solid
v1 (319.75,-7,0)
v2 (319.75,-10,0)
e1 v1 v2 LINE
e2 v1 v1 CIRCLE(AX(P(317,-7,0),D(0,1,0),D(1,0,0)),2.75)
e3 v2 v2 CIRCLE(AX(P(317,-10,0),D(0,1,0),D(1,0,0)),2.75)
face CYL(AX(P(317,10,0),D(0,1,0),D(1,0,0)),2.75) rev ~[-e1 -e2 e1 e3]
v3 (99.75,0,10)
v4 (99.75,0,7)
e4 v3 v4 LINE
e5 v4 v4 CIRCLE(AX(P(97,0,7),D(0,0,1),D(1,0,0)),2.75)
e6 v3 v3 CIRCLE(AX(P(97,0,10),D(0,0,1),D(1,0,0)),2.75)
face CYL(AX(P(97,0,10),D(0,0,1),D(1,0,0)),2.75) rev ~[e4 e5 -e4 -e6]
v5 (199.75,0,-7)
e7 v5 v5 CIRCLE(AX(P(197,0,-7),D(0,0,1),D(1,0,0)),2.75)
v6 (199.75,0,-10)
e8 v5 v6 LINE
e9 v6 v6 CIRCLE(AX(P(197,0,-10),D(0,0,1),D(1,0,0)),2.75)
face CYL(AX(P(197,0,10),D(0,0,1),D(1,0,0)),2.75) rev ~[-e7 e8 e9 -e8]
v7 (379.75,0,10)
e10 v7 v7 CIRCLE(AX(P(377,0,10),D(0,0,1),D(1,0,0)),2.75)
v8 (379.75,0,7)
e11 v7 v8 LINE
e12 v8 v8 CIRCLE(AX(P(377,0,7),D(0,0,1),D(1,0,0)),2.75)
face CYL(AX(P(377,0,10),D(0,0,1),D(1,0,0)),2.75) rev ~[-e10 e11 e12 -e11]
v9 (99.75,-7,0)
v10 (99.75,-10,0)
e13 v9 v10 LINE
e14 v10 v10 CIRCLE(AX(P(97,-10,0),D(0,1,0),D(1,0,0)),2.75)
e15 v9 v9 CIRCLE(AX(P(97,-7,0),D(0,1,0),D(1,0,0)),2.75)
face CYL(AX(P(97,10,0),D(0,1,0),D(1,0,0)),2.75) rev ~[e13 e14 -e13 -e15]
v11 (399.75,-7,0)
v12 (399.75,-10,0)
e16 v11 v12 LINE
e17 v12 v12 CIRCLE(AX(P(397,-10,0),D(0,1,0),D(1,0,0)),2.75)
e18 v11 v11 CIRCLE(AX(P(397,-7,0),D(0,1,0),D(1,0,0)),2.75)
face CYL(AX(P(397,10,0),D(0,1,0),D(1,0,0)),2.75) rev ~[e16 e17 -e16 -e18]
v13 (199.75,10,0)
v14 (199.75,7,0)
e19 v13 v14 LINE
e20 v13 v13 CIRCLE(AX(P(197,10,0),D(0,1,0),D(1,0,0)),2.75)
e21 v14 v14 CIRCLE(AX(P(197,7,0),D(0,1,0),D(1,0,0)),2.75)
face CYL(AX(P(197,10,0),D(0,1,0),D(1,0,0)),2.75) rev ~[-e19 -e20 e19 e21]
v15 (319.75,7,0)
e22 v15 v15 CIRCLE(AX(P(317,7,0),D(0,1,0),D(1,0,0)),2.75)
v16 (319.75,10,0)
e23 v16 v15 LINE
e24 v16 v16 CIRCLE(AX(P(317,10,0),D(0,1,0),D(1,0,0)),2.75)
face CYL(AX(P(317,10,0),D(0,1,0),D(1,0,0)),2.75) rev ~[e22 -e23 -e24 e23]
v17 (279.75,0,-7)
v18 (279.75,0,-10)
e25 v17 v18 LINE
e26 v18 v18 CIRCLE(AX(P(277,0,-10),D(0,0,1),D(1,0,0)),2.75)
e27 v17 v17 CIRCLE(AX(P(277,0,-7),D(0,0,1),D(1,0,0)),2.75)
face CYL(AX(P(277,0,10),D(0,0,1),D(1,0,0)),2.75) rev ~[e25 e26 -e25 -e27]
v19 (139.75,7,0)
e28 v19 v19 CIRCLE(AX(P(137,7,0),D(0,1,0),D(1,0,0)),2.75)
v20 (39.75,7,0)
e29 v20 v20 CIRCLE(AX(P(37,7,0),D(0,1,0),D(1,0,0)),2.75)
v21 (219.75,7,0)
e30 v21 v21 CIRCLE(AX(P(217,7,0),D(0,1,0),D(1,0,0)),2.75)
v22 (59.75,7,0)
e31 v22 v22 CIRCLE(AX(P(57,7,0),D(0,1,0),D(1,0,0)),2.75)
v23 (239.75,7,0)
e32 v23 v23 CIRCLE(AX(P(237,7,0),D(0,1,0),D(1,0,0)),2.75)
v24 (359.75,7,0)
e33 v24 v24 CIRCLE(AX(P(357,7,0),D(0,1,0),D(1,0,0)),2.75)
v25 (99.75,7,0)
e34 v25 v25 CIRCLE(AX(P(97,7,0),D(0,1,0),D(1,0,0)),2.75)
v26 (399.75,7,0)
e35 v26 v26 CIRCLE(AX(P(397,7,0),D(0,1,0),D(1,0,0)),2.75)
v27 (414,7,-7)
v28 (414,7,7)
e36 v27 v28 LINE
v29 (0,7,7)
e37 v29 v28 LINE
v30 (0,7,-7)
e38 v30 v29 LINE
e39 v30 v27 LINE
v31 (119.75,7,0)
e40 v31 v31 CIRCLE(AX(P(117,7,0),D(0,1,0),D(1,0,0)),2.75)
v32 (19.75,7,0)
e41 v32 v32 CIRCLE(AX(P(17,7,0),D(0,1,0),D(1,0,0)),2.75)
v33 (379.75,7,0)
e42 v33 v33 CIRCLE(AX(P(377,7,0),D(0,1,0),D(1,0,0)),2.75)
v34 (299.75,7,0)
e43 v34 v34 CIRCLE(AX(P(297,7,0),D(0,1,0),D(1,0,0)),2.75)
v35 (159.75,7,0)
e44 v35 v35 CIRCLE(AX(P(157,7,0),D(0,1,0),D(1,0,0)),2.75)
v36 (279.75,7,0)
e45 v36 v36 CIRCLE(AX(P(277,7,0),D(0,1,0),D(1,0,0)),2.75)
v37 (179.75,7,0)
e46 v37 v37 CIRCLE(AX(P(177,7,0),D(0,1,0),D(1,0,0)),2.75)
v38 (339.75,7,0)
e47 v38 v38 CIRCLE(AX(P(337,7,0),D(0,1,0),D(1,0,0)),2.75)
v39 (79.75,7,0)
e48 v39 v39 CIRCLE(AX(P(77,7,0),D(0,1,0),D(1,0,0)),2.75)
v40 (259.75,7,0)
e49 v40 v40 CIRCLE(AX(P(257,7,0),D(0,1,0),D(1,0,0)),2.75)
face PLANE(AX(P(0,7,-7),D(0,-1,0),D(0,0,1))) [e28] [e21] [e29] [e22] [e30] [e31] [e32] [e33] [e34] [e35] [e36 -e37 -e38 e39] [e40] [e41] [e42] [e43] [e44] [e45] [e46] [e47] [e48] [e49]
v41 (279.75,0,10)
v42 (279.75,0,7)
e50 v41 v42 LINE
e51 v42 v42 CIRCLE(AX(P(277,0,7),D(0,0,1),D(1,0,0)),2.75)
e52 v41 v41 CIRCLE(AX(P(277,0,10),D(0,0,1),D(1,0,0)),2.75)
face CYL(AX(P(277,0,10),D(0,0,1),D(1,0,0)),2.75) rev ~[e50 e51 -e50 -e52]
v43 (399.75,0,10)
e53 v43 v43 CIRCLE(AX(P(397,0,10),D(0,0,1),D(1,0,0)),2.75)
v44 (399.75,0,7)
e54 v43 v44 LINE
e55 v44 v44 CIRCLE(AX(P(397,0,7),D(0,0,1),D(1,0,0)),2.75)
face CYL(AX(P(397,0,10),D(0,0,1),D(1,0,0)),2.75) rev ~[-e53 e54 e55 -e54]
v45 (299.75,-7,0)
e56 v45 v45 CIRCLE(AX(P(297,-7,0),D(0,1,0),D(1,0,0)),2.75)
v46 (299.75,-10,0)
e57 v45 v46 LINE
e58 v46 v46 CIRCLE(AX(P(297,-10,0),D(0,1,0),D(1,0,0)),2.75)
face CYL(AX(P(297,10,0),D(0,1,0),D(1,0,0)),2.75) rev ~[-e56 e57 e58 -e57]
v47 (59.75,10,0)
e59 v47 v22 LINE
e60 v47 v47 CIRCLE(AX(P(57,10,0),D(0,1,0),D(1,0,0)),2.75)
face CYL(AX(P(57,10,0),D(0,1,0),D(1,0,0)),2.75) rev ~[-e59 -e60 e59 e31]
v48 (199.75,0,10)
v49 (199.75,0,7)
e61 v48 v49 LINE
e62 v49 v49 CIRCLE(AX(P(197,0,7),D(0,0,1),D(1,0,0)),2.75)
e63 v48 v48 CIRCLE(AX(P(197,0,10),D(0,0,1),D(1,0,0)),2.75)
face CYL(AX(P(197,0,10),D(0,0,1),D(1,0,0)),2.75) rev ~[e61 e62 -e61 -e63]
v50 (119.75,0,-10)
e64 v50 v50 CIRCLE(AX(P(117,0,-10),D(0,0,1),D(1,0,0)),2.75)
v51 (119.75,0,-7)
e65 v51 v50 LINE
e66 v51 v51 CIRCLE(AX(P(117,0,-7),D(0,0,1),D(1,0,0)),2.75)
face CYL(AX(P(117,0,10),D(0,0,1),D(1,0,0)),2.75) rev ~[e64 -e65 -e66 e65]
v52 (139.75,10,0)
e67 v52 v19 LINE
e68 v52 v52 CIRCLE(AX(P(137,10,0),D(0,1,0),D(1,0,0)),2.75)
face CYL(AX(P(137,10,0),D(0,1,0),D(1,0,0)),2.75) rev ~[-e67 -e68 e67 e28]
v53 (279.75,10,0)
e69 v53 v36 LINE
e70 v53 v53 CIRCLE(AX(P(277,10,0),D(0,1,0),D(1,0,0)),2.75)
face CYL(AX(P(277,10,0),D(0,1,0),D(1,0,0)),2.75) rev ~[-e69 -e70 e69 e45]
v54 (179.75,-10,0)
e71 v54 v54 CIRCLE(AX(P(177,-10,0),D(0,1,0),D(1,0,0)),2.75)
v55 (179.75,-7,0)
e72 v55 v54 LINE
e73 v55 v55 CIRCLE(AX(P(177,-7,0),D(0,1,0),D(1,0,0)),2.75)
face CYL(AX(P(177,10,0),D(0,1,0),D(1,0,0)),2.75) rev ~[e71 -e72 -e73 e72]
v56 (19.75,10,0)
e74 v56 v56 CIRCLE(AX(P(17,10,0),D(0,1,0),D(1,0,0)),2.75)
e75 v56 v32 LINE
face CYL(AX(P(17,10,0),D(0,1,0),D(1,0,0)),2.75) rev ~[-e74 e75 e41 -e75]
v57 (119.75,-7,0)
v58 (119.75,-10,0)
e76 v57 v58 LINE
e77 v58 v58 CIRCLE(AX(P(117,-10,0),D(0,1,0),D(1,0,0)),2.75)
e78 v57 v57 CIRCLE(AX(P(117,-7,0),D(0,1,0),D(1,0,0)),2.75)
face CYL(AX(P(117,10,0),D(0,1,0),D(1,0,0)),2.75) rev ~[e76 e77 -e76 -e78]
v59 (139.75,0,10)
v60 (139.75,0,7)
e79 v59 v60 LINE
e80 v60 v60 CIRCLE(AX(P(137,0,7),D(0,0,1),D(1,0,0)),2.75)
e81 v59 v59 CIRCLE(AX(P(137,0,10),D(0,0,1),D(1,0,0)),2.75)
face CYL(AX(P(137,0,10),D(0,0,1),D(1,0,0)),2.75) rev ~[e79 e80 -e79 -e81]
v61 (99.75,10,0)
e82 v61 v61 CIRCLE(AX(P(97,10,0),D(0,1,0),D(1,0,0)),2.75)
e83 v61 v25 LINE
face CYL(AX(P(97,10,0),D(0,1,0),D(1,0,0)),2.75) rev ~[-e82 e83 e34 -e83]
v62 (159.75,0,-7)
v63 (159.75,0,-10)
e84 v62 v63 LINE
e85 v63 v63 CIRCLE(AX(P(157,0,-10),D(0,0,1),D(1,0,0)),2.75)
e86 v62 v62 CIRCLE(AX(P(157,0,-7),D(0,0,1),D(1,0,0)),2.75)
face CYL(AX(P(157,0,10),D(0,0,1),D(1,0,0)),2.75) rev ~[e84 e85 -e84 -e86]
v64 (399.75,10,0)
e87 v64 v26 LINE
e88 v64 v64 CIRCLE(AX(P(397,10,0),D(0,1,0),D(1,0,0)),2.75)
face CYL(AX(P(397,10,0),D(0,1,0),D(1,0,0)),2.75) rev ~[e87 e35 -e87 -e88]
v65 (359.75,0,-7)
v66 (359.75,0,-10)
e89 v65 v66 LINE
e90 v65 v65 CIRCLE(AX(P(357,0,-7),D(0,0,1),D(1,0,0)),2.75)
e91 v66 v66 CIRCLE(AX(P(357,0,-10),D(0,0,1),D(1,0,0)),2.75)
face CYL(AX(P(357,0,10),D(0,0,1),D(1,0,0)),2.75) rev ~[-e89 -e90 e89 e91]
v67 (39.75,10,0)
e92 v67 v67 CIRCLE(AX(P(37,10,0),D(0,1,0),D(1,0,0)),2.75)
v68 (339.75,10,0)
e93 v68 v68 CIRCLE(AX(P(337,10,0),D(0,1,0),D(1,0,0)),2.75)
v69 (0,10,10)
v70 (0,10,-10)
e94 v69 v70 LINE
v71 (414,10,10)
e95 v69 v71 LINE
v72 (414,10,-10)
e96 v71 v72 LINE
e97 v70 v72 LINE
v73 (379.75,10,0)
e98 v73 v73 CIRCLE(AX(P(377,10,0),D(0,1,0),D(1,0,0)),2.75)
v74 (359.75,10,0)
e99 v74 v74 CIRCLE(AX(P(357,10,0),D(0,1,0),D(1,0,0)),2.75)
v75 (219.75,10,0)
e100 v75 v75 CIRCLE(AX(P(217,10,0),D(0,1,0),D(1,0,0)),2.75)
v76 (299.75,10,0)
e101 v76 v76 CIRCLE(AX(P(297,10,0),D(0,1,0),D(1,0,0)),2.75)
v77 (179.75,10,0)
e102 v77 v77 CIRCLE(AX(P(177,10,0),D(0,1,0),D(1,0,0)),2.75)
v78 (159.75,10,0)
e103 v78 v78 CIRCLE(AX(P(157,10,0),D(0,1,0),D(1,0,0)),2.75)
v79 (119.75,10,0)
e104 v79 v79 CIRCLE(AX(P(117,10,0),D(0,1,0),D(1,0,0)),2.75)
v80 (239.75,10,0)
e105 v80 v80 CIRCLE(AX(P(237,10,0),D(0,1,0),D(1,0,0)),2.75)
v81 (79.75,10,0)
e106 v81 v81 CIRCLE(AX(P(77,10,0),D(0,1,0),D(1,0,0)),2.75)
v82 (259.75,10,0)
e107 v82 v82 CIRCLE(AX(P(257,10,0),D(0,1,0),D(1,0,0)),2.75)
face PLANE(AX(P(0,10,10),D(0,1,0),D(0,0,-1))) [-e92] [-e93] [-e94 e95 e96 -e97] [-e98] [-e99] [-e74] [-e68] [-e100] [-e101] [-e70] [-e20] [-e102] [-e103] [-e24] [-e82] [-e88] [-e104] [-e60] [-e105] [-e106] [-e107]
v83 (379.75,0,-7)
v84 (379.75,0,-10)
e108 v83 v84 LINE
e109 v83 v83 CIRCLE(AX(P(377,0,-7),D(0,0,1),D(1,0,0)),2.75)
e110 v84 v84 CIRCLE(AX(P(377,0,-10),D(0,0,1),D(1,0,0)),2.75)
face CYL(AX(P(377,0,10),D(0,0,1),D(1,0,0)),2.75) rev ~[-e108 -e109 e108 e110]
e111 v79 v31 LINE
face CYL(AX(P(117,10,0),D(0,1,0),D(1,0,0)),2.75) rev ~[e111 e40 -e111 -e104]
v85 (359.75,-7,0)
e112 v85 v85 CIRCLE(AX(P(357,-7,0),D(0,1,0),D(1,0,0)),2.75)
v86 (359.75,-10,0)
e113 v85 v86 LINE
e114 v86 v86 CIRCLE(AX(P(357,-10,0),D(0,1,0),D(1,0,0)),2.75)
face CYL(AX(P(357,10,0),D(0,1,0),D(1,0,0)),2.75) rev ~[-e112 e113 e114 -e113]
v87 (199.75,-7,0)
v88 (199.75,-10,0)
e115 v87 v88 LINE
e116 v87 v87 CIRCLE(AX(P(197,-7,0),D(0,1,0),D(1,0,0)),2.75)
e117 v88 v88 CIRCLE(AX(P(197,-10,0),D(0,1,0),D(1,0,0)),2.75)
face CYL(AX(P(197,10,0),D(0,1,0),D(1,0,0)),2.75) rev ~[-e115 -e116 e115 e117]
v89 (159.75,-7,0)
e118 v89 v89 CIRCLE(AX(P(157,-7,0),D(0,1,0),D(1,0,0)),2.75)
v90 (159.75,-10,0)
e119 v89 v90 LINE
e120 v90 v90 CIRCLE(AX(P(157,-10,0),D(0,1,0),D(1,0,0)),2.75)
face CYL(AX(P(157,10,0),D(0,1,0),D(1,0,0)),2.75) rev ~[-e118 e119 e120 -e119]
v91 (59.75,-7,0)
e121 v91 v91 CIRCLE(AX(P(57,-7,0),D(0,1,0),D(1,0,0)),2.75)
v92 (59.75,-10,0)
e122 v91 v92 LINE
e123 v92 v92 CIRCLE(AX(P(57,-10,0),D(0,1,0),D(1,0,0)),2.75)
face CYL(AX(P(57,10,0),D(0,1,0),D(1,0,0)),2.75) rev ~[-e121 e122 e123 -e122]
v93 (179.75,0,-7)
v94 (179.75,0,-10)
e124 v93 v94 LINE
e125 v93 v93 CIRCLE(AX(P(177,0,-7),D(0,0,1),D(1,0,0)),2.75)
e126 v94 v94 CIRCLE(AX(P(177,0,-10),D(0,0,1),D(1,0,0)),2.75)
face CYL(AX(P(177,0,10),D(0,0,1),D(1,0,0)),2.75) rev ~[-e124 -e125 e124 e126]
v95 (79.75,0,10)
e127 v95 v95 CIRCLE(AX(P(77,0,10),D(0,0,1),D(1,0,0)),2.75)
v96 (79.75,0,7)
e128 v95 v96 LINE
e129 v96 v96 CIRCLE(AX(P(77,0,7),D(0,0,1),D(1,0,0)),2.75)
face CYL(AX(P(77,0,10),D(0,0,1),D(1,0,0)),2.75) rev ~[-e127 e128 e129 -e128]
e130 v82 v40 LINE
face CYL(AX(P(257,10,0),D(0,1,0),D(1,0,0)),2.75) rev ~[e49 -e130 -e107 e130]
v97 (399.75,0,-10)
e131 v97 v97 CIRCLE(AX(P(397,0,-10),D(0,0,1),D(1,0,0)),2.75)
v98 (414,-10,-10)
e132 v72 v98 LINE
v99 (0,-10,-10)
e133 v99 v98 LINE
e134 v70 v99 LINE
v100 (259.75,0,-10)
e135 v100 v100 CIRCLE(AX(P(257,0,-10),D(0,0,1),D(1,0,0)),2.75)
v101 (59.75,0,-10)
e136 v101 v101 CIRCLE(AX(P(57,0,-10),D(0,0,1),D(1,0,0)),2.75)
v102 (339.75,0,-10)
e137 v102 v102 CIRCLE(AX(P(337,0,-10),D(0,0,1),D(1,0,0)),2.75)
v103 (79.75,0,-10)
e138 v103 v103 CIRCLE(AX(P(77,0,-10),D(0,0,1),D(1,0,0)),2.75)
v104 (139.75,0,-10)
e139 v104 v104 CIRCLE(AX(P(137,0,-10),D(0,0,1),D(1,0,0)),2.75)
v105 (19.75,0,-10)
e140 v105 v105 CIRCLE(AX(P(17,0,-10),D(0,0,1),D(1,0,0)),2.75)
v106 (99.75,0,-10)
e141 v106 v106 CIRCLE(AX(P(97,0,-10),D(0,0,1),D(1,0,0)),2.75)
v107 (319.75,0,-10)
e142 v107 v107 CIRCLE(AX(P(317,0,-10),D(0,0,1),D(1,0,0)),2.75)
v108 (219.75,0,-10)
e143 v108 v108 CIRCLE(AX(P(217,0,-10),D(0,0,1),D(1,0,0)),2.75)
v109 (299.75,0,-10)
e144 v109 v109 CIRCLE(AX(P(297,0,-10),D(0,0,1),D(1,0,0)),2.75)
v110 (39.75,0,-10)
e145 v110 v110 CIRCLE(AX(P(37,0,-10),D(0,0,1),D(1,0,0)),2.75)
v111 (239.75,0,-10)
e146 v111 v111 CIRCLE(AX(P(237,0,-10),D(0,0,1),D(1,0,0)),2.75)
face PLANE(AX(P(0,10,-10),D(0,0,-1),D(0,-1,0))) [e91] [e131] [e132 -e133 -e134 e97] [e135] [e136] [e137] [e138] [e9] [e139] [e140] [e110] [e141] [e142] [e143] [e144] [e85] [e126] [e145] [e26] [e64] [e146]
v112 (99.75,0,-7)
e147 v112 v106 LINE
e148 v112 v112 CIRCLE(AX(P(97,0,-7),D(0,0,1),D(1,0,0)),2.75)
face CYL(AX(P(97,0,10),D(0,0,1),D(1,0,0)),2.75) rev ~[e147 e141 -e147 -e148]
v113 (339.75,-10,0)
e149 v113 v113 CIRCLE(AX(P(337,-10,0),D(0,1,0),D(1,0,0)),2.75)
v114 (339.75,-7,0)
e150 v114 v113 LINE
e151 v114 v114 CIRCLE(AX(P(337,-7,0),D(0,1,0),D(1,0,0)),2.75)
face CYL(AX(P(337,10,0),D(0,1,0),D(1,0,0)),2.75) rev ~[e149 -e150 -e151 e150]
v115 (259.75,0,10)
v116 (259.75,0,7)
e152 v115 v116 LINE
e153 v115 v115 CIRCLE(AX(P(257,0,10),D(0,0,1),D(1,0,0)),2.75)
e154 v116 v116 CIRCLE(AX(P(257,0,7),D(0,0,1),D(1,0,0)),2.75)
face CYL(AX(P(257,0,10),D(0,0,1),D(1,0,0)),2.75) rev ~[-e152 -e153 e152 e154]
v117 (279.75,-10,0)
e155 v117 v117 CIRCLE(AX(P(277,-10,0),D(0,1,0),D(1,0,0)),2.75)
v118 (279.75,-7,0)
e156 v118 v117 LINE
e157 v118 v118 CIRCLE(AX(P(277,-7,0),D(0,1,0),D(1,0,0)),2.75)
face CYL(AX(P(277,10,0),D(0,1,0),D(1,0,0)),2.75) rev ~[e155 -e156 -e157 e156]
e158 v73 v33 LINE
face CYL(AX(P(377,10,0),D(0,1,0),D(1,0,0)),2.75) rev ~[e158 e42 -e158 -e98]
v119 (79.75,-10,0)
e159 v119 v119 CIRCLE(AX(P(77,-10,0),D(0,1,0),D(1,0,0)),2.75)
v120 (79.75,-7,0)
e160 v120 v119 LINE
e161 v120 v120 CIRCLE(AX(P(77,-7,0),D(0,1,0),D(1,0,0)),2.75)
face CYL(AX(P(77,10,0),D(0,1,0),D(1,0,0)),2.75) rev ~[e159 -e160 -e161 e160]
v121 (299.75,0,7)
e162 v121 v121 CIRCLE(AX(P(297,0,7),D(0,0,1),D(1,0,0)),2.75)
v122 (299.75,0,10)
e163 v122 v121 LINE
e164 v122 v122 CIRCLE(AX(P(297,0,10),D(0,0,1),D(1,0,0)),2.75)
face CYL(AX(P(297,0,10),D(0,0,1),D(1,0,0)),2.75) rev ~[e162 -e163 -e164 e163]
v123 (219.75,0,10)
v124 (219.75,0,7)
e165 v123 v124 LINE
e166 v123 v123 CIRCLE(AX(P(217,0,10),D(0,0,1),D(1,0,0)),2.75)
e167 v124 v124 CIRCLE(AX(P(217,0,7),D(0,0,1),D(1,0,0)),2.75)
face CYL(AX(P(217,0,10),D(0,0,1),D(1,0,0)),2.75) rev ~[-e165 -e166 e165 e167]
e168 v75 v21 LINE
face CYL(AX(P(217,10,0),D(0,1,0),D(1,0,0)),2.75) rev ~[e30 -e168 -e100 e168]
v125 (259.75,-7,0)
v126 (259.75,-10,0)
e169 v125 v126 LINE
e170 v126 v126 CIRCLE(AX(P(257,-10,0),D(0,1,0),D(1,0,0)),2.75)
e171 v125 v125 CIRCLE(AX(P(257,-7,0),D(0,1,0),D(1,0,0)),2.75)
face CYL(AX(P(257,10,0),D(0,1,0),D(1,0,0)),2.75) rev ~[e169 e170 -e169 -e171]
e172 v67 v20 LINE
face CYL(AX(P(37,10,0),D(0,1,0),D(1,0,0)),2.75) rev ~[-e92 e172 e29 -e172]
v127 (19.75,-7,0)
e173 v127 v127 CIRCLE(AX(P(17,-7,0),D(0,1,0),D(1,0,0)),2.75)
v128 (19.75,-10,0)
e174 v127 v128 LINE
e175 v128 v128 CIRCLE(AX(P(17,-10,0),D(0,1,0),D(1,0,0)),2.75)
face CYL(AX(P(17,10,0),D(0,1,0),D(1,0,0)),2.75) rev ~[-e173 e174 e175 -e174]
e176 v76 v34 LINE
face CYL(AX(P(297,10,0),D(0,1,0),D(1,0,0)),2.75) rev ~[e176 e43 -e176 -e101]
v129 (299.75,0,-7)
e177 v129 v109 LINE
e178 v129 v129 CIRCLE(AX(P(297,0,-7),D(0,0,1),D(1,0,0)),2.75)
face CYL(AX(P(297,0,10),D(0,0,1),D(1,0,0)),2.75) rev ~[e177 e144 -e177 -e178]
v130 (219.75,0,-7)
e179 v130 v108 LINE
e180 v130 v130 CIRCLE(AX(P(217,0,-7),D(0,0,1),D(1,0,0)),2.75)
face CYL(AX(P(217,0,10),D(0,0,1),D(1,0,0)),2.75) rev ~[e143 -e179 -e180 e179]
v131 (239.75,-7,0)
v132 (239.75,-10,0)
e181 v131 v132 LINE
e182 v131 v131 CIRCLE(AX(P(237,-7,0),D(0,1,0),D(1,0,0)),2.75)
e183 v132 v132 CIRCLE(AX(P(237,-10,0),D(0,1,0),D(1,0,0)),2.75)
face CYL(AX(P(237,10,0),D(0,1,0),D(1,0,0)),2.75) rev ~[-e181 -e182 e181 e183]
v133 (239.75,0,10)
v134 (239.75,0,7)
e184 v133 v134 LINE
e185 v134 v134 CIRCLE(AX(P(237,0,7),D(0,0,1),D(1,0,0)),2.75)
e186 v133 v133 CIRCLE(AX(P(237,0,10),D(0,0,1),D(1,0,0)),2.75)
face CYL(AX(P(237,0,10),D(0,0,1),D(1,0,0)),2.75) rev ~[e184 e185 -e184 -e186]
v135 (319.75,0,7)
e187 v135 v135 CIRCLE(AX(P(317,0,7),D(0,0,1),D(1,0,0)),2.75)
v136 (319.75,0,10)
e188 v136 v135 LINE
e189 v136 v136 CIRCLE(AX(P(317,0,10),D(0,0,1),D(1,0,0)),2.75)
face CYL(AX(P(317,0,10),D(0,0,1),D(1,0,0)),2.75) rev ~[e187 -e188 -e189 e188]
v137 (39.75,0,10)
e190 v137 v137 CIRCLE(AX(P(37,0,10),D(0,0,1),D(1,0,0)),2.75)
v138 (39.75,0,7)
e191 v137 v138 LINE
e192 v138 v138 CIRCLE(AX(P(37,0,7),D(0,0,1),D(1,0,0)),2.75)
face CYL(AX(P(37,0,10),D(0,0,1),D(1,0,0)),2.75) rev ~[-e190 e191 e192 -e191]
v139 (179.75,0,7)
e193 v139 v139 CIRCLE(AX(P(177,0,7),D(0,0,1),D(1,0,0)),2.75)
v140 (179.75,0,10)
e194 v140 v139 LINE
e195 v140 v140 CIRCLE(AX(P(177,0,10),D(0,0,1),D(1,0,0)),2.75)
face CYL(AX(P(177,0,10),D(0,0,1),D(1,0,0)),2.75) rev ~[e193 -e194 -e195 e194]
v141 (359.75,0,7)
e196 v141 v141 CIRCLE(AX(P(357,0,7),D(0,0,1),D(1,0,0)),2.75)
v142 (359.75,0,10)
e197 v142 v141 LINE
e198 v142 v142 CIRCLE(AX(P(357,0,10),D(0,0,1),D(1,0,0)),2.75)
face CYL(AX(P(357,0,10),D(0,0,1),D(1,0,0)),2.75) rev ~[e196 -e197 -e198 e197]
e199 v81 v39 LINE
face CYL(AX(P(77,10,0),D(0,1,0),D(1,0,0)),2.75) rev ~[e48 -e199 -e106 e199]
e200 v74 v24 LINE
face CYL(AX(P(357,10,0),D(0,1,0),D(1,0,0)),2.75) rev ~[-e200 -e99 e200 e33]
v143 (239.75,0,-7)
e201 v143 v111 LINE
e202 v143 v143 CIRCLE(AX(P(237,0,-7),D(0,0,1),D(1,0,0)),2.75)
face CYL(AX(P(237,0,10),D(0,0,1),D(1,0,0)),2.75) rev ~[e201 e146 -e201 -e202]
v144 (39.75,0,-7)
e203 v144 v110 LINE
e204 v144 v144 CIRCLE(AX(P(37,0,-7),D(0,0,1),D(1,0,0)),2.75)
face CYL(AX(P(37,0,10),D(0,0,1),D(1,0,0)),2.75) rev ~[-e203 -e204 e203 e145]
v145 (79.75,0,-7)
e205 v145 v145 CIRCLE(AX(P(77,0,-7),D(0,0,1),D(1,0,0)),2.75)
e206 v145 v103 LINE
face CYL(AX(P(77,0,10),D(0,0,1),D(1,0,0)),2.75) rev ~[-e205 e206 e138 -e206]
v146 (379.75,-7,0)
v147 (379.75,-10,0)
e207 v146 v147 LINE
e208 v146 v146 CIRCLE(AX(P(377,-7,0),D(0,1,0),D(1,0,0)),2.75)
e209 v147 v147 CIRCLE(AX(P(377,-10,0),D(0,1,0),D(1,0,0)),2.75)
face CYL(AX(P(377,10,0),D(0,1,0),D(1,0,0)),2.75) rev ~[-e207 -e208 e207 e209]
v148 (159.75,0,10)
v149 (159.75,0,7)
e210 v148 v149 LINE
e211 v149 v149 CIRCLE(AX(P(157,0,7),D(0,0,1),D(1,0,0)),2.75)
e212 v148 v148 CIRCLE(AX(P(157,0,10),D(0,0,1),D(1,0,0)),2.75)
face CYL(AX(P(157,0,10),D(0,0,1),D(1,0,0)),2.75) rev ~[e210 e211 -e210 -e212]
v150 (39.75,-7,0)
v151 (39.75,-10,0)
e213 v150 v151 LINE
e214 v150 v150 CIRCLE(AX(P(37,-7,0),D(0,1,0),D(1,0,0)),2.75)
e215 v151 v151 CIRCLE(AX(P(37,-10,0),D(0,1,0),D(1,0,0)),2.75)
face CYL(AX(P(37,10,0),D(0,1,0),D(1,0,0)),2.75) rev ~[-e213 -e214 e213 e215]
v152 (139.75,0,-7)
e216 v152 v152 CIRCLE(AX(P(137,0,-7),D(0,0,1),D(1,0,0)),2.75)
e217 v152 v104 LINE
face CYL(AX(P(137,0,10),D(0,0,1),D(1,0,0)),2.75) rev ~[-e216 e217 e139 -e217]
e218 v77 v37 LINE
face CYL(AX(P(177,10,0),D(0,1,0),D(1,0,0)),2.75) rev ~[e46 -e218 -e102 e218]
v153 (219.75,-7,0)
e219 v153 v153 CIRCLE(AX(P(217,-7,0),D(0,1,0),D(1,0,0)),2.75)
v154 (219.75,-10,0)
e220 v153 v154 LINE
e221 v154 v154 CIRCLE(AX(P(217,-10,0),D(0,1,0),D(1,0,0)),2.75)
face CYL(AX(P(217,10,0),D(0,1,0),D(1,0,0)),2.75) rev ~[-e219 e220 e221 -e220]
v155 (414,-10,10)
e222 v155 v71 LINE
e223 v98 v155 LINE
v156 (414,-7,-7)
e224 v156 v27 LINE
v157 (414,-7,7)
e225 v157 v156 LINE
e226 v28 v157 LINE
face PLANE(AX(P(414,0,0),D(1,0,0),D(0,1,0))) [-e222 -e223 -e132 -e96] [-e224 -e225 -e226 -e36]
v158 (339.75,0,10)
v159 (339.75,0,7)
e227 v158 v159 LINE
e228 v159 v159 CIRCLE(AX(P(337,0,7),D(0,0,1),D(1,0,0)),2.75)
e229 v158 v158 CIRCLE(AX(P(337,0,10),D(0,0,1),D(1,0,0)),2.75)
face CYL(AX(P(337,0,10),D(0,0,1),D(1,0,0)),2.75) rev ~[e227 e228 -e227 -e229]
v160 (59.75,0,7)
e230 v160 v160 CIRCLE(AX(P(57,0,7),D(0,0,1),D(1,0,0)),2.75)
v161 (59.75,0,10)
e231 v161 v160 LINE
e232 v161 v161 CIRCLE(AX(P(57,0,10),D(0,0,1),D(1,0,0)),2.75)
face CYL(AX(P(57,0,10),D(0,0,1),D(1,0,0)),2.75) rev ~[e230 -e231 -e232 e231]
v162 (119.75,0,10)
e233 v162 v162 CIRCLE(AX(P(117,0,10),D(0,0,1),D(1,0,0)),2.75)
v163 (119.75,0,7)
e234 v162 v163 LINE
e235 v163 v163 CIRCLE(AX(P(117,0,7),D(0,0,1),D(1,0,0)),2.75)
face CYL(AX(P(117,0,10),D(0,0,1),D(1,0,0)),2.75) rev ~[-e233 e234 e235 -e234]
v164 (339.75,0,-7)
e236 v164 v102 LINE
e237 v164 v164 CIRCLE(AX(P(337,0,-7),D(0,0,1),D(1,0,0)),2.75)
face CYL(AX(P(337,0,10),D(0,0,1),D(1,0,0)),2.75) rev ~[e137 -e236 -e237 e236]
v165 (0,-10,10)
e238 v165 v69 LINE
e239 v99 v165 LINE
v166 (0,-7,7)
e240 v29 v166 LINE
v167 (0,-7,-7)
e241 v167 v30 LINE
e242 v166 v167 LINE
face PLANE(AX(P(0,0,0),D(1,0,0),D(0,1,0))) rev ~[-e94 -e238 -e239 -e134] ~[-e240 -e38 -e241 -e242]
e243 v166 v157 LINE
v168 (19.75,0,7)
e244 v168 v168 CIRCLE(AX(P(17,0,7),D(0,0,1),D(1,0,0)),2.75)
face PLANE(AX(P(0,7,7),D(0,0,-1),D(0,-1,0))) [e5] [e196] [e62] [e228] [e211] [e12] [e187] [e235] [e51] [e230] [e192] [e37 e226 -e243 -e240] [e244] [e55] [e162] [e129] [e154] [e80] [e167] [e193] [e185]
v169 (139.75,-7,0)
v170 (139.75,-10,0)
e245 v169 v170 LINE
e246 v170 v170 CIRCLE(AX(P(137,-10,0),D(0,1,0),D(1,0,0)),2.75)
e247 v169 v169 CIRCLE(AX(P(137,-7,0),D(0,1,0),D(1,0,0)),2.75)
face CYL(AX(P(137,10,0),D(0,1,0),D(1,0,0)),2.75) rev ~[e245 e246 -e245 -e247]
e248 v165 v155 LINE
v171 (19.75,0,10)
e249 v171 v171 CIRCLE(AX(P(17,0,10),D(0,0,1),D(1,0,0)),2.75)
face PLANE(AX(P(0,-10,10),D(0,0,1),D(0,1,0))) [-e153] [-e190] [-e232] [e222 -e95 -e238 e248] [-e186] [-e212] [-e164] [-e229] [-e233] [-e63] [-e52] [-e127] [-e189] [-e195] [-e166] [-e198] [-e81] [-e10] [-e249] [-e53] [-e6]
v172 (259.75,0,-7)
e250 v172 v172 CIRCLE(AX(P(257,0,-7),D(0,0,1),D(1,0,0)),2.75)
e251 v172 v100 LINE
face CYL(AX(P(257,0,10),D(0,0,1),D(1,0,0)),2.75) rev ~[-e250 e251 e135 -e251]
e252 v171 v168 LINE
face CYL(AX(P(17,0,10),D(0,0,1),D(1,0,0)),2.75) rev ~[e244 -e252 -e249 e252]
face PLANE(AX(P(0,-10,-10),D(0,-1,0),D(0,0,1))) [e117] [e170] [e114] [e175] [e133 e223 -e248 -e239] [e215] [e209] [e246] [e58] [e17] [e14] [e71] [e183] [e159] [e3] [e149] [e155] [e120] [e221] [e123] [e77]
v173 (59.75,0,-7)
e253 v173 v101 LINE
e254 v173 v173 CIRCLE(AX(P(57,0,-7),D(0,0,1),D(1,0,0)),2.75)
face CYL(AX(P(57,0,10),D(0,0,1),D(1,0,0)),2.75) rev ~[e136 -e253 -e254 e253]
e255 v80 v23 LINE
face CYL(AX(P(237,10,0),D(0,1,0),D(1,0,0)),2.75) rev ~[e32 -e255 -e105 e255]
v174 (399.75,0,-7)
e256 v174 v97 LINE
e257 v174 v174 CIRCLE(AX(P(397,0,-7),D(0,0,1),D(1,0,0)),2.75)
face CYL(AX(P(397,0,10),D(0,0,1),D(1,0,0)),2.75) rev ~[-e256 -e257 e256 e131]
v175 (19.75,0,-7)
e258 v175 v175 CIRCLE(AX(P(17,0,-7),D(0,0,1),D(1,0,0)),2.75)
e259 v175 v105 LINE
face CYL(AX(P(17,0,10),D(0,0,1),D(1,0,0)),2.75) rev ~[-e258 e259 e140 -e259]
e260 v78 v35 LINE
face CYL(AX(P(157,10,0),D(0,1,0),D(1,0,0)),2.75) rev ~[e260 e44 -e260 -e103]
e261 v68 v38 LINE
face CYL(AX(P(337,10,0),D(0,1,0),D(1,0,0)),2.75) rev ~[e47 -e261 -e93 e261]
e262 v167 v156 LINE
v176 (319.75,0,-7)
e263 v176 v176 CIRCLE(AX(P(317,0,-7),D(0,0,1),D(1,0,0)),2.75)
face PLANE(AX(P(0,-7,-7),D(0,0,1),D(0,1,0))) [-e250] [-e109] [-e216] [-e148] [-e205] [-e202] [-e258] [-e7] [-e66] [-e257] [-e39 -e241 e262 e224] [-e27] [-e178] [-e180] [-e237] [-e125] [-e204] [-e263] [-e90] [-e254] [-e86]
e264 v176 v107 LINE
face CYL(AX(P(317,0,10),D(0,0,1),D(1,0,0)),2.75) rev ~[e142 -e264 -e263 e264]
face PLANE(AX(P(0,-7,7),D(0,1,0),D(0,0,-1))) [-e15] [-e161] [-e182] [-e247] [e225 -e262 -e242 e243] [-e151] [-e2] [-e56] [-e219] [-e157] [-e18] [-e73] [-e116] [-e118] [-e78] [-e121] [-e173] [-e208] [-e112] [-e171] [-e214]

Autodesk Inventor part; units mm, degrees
ref_plane "YZ Plane" through (0, 0, 0) normal (1, 0, 0) x (0, 1, 0)
ref_plane "XZ Plane" through (0, 0, 0) normal (0, 1, 0) x (-1, 0, 0)
ref_plane "XY Plane" through (0, 0, 0) normal (0, 0, 1) x (1, 0, 0)
sketch "Sketch1" plane through (0, 0, 0) normal (1, 0, 0) x (0, 1, 0)
  line L0 (-10, 10) -> (10, 10)
  line L1 (10, 10) -> (10, -10)
  line L2 (10, -10) -> (-10, -10)
  line L3 (-10, -10) -> (-10, 10)
  line L4 (-10, 10) -> (10, -10) construction
  line L5 (10, 10) -> (-10, -10) construction
  line L6 (7, -7) -> (7, 7)
  line L7 (7, 7) -> (-7, 7)
  line L8 (-7, 7) -> (-7, -7)
  line L9 (-7, -7) -> (7, -7)
  point P0 (0, 0)
  dimension "d0" = 20
  dimension "d1" = 20
  dimension "d2" = 3
extrude "Extrusion1" add sketch "Sketch1" along normal blind 414
sketch "Sketch2" plane through (0, 10, 10) normal (0, 1, 0) x (1, 0, 0)
  circle A0 centre (17, 10) radius 2.75
  line L0 (0, 0) -> (0, 20) projected
  line L1 (0, 0) -> (414, 0) projected
  circle A1 centre (397, 10) radius 2.75
  line L2 (414, 20) -> (414, 0) projected
  circle A2 centre (37, 10) radius 2.75
  circle A3 centre (57, 10) radius 2.75
  circle A4 centre (77, 10) radius 2.75
  circle A5 centre (97, 10) radius 2.75
  circle A6 centre (117, 10) radius 2.75
  circle A7 centre (137, 10) radius 2.75
  circle A8 centre (157, 10) radius 2.75
  circle A9 centre (177, 10) radius 2.75
  circle A10 centre (197, 10) radius 2.75
  circle A11 centre (217, 10) radius 2.75
  circle A12 centre (237, 10) radius 2.75
  circle A13 centre (257, 10) radius 2.75
  circle A14 centre (277, 10) radius 2.75
  circle A15 centre (297, 10) radius 2.75
  circle A16 centre (317, 10) radius 2.75
  circle A17 centre (337, 10) radius 2.75
  circle A18 centre (357, 10) radius 2.75
  circle A19 centre (377, 10) radius 2.75
  circle A20 centre (397, 10) radius 2.75
  point P0 (0, 10)
  dimension "d5" = 5.5
  dimension "d6" = 17
  dimension "d7" = 10
  dimension "d8" = 5.5
  dimension "d9" = 10
  dimension "d10" = 17
  dimension "d13" = 20
extrude "Extrusion2" cut sketch "Sketch2" against normal blind 20
sketch "Sketch3" plane through (0, -10, 10) normal (0, 0, 1) x (1, 0, 0)
  circle A0 centre (17, 10) radius 2.75
  line L0 (0, 0) -> (0, 20)
  line L1 (0, 0) -> (414, 0)
  circle A1 centre (397, 10) radius 2.75
  line L2 (414, 20) -> (414, 0)
  circle A2 centre (37, 10) radius 2.75
  circle A3 centre (57, 10) radius 2.75
  circle A4 centre (77, 10) radius 2.75
  circle A5 centre (97, 10) radius 2.75
  circle A6 centre (117, 10) radius 2.75
  circle A7 centre (137, 10) radius 2.75
  circle A8 centre (157, 10) radius 2.75
  circle A9 centre (177, 10) radius 2.75
  circle A10 centre (197, 10) radius 2.75
  circle A11 centre (217, 10) radius 2.75
  circle A12 centre (237, 10) radius 2.75
  circle A13 centre (257, 10) radius 2.75
  circle A14 centre (277, 10) radius 2.75
  circle A15 centre (297, 10) radius 2.75
  circle A16 centre (317, 10) radius 2.75
  circle A17 centre (337, 10) radius 2.75
  circle A18 centre (357, 10) radius 2.75
  circle A19 centre (377, 10) radius 2.75
  circle A20 centre (397, 10) radius 2.75
  point P0 (0, 10)
  dimension "d29" = 5.5
  dimension "d31" = 17
  dimension "d30" = 10
  dimension "d26" = 5.5
  dimension "d28" = 10
  dimension "d27" = 17
  dimension "d21" = 20
extrude "Extrusion3" cut sketch "Sketch3" against normal blind 20
properties part number "2020 Extrusion Base" material "Aluminum 6061"
